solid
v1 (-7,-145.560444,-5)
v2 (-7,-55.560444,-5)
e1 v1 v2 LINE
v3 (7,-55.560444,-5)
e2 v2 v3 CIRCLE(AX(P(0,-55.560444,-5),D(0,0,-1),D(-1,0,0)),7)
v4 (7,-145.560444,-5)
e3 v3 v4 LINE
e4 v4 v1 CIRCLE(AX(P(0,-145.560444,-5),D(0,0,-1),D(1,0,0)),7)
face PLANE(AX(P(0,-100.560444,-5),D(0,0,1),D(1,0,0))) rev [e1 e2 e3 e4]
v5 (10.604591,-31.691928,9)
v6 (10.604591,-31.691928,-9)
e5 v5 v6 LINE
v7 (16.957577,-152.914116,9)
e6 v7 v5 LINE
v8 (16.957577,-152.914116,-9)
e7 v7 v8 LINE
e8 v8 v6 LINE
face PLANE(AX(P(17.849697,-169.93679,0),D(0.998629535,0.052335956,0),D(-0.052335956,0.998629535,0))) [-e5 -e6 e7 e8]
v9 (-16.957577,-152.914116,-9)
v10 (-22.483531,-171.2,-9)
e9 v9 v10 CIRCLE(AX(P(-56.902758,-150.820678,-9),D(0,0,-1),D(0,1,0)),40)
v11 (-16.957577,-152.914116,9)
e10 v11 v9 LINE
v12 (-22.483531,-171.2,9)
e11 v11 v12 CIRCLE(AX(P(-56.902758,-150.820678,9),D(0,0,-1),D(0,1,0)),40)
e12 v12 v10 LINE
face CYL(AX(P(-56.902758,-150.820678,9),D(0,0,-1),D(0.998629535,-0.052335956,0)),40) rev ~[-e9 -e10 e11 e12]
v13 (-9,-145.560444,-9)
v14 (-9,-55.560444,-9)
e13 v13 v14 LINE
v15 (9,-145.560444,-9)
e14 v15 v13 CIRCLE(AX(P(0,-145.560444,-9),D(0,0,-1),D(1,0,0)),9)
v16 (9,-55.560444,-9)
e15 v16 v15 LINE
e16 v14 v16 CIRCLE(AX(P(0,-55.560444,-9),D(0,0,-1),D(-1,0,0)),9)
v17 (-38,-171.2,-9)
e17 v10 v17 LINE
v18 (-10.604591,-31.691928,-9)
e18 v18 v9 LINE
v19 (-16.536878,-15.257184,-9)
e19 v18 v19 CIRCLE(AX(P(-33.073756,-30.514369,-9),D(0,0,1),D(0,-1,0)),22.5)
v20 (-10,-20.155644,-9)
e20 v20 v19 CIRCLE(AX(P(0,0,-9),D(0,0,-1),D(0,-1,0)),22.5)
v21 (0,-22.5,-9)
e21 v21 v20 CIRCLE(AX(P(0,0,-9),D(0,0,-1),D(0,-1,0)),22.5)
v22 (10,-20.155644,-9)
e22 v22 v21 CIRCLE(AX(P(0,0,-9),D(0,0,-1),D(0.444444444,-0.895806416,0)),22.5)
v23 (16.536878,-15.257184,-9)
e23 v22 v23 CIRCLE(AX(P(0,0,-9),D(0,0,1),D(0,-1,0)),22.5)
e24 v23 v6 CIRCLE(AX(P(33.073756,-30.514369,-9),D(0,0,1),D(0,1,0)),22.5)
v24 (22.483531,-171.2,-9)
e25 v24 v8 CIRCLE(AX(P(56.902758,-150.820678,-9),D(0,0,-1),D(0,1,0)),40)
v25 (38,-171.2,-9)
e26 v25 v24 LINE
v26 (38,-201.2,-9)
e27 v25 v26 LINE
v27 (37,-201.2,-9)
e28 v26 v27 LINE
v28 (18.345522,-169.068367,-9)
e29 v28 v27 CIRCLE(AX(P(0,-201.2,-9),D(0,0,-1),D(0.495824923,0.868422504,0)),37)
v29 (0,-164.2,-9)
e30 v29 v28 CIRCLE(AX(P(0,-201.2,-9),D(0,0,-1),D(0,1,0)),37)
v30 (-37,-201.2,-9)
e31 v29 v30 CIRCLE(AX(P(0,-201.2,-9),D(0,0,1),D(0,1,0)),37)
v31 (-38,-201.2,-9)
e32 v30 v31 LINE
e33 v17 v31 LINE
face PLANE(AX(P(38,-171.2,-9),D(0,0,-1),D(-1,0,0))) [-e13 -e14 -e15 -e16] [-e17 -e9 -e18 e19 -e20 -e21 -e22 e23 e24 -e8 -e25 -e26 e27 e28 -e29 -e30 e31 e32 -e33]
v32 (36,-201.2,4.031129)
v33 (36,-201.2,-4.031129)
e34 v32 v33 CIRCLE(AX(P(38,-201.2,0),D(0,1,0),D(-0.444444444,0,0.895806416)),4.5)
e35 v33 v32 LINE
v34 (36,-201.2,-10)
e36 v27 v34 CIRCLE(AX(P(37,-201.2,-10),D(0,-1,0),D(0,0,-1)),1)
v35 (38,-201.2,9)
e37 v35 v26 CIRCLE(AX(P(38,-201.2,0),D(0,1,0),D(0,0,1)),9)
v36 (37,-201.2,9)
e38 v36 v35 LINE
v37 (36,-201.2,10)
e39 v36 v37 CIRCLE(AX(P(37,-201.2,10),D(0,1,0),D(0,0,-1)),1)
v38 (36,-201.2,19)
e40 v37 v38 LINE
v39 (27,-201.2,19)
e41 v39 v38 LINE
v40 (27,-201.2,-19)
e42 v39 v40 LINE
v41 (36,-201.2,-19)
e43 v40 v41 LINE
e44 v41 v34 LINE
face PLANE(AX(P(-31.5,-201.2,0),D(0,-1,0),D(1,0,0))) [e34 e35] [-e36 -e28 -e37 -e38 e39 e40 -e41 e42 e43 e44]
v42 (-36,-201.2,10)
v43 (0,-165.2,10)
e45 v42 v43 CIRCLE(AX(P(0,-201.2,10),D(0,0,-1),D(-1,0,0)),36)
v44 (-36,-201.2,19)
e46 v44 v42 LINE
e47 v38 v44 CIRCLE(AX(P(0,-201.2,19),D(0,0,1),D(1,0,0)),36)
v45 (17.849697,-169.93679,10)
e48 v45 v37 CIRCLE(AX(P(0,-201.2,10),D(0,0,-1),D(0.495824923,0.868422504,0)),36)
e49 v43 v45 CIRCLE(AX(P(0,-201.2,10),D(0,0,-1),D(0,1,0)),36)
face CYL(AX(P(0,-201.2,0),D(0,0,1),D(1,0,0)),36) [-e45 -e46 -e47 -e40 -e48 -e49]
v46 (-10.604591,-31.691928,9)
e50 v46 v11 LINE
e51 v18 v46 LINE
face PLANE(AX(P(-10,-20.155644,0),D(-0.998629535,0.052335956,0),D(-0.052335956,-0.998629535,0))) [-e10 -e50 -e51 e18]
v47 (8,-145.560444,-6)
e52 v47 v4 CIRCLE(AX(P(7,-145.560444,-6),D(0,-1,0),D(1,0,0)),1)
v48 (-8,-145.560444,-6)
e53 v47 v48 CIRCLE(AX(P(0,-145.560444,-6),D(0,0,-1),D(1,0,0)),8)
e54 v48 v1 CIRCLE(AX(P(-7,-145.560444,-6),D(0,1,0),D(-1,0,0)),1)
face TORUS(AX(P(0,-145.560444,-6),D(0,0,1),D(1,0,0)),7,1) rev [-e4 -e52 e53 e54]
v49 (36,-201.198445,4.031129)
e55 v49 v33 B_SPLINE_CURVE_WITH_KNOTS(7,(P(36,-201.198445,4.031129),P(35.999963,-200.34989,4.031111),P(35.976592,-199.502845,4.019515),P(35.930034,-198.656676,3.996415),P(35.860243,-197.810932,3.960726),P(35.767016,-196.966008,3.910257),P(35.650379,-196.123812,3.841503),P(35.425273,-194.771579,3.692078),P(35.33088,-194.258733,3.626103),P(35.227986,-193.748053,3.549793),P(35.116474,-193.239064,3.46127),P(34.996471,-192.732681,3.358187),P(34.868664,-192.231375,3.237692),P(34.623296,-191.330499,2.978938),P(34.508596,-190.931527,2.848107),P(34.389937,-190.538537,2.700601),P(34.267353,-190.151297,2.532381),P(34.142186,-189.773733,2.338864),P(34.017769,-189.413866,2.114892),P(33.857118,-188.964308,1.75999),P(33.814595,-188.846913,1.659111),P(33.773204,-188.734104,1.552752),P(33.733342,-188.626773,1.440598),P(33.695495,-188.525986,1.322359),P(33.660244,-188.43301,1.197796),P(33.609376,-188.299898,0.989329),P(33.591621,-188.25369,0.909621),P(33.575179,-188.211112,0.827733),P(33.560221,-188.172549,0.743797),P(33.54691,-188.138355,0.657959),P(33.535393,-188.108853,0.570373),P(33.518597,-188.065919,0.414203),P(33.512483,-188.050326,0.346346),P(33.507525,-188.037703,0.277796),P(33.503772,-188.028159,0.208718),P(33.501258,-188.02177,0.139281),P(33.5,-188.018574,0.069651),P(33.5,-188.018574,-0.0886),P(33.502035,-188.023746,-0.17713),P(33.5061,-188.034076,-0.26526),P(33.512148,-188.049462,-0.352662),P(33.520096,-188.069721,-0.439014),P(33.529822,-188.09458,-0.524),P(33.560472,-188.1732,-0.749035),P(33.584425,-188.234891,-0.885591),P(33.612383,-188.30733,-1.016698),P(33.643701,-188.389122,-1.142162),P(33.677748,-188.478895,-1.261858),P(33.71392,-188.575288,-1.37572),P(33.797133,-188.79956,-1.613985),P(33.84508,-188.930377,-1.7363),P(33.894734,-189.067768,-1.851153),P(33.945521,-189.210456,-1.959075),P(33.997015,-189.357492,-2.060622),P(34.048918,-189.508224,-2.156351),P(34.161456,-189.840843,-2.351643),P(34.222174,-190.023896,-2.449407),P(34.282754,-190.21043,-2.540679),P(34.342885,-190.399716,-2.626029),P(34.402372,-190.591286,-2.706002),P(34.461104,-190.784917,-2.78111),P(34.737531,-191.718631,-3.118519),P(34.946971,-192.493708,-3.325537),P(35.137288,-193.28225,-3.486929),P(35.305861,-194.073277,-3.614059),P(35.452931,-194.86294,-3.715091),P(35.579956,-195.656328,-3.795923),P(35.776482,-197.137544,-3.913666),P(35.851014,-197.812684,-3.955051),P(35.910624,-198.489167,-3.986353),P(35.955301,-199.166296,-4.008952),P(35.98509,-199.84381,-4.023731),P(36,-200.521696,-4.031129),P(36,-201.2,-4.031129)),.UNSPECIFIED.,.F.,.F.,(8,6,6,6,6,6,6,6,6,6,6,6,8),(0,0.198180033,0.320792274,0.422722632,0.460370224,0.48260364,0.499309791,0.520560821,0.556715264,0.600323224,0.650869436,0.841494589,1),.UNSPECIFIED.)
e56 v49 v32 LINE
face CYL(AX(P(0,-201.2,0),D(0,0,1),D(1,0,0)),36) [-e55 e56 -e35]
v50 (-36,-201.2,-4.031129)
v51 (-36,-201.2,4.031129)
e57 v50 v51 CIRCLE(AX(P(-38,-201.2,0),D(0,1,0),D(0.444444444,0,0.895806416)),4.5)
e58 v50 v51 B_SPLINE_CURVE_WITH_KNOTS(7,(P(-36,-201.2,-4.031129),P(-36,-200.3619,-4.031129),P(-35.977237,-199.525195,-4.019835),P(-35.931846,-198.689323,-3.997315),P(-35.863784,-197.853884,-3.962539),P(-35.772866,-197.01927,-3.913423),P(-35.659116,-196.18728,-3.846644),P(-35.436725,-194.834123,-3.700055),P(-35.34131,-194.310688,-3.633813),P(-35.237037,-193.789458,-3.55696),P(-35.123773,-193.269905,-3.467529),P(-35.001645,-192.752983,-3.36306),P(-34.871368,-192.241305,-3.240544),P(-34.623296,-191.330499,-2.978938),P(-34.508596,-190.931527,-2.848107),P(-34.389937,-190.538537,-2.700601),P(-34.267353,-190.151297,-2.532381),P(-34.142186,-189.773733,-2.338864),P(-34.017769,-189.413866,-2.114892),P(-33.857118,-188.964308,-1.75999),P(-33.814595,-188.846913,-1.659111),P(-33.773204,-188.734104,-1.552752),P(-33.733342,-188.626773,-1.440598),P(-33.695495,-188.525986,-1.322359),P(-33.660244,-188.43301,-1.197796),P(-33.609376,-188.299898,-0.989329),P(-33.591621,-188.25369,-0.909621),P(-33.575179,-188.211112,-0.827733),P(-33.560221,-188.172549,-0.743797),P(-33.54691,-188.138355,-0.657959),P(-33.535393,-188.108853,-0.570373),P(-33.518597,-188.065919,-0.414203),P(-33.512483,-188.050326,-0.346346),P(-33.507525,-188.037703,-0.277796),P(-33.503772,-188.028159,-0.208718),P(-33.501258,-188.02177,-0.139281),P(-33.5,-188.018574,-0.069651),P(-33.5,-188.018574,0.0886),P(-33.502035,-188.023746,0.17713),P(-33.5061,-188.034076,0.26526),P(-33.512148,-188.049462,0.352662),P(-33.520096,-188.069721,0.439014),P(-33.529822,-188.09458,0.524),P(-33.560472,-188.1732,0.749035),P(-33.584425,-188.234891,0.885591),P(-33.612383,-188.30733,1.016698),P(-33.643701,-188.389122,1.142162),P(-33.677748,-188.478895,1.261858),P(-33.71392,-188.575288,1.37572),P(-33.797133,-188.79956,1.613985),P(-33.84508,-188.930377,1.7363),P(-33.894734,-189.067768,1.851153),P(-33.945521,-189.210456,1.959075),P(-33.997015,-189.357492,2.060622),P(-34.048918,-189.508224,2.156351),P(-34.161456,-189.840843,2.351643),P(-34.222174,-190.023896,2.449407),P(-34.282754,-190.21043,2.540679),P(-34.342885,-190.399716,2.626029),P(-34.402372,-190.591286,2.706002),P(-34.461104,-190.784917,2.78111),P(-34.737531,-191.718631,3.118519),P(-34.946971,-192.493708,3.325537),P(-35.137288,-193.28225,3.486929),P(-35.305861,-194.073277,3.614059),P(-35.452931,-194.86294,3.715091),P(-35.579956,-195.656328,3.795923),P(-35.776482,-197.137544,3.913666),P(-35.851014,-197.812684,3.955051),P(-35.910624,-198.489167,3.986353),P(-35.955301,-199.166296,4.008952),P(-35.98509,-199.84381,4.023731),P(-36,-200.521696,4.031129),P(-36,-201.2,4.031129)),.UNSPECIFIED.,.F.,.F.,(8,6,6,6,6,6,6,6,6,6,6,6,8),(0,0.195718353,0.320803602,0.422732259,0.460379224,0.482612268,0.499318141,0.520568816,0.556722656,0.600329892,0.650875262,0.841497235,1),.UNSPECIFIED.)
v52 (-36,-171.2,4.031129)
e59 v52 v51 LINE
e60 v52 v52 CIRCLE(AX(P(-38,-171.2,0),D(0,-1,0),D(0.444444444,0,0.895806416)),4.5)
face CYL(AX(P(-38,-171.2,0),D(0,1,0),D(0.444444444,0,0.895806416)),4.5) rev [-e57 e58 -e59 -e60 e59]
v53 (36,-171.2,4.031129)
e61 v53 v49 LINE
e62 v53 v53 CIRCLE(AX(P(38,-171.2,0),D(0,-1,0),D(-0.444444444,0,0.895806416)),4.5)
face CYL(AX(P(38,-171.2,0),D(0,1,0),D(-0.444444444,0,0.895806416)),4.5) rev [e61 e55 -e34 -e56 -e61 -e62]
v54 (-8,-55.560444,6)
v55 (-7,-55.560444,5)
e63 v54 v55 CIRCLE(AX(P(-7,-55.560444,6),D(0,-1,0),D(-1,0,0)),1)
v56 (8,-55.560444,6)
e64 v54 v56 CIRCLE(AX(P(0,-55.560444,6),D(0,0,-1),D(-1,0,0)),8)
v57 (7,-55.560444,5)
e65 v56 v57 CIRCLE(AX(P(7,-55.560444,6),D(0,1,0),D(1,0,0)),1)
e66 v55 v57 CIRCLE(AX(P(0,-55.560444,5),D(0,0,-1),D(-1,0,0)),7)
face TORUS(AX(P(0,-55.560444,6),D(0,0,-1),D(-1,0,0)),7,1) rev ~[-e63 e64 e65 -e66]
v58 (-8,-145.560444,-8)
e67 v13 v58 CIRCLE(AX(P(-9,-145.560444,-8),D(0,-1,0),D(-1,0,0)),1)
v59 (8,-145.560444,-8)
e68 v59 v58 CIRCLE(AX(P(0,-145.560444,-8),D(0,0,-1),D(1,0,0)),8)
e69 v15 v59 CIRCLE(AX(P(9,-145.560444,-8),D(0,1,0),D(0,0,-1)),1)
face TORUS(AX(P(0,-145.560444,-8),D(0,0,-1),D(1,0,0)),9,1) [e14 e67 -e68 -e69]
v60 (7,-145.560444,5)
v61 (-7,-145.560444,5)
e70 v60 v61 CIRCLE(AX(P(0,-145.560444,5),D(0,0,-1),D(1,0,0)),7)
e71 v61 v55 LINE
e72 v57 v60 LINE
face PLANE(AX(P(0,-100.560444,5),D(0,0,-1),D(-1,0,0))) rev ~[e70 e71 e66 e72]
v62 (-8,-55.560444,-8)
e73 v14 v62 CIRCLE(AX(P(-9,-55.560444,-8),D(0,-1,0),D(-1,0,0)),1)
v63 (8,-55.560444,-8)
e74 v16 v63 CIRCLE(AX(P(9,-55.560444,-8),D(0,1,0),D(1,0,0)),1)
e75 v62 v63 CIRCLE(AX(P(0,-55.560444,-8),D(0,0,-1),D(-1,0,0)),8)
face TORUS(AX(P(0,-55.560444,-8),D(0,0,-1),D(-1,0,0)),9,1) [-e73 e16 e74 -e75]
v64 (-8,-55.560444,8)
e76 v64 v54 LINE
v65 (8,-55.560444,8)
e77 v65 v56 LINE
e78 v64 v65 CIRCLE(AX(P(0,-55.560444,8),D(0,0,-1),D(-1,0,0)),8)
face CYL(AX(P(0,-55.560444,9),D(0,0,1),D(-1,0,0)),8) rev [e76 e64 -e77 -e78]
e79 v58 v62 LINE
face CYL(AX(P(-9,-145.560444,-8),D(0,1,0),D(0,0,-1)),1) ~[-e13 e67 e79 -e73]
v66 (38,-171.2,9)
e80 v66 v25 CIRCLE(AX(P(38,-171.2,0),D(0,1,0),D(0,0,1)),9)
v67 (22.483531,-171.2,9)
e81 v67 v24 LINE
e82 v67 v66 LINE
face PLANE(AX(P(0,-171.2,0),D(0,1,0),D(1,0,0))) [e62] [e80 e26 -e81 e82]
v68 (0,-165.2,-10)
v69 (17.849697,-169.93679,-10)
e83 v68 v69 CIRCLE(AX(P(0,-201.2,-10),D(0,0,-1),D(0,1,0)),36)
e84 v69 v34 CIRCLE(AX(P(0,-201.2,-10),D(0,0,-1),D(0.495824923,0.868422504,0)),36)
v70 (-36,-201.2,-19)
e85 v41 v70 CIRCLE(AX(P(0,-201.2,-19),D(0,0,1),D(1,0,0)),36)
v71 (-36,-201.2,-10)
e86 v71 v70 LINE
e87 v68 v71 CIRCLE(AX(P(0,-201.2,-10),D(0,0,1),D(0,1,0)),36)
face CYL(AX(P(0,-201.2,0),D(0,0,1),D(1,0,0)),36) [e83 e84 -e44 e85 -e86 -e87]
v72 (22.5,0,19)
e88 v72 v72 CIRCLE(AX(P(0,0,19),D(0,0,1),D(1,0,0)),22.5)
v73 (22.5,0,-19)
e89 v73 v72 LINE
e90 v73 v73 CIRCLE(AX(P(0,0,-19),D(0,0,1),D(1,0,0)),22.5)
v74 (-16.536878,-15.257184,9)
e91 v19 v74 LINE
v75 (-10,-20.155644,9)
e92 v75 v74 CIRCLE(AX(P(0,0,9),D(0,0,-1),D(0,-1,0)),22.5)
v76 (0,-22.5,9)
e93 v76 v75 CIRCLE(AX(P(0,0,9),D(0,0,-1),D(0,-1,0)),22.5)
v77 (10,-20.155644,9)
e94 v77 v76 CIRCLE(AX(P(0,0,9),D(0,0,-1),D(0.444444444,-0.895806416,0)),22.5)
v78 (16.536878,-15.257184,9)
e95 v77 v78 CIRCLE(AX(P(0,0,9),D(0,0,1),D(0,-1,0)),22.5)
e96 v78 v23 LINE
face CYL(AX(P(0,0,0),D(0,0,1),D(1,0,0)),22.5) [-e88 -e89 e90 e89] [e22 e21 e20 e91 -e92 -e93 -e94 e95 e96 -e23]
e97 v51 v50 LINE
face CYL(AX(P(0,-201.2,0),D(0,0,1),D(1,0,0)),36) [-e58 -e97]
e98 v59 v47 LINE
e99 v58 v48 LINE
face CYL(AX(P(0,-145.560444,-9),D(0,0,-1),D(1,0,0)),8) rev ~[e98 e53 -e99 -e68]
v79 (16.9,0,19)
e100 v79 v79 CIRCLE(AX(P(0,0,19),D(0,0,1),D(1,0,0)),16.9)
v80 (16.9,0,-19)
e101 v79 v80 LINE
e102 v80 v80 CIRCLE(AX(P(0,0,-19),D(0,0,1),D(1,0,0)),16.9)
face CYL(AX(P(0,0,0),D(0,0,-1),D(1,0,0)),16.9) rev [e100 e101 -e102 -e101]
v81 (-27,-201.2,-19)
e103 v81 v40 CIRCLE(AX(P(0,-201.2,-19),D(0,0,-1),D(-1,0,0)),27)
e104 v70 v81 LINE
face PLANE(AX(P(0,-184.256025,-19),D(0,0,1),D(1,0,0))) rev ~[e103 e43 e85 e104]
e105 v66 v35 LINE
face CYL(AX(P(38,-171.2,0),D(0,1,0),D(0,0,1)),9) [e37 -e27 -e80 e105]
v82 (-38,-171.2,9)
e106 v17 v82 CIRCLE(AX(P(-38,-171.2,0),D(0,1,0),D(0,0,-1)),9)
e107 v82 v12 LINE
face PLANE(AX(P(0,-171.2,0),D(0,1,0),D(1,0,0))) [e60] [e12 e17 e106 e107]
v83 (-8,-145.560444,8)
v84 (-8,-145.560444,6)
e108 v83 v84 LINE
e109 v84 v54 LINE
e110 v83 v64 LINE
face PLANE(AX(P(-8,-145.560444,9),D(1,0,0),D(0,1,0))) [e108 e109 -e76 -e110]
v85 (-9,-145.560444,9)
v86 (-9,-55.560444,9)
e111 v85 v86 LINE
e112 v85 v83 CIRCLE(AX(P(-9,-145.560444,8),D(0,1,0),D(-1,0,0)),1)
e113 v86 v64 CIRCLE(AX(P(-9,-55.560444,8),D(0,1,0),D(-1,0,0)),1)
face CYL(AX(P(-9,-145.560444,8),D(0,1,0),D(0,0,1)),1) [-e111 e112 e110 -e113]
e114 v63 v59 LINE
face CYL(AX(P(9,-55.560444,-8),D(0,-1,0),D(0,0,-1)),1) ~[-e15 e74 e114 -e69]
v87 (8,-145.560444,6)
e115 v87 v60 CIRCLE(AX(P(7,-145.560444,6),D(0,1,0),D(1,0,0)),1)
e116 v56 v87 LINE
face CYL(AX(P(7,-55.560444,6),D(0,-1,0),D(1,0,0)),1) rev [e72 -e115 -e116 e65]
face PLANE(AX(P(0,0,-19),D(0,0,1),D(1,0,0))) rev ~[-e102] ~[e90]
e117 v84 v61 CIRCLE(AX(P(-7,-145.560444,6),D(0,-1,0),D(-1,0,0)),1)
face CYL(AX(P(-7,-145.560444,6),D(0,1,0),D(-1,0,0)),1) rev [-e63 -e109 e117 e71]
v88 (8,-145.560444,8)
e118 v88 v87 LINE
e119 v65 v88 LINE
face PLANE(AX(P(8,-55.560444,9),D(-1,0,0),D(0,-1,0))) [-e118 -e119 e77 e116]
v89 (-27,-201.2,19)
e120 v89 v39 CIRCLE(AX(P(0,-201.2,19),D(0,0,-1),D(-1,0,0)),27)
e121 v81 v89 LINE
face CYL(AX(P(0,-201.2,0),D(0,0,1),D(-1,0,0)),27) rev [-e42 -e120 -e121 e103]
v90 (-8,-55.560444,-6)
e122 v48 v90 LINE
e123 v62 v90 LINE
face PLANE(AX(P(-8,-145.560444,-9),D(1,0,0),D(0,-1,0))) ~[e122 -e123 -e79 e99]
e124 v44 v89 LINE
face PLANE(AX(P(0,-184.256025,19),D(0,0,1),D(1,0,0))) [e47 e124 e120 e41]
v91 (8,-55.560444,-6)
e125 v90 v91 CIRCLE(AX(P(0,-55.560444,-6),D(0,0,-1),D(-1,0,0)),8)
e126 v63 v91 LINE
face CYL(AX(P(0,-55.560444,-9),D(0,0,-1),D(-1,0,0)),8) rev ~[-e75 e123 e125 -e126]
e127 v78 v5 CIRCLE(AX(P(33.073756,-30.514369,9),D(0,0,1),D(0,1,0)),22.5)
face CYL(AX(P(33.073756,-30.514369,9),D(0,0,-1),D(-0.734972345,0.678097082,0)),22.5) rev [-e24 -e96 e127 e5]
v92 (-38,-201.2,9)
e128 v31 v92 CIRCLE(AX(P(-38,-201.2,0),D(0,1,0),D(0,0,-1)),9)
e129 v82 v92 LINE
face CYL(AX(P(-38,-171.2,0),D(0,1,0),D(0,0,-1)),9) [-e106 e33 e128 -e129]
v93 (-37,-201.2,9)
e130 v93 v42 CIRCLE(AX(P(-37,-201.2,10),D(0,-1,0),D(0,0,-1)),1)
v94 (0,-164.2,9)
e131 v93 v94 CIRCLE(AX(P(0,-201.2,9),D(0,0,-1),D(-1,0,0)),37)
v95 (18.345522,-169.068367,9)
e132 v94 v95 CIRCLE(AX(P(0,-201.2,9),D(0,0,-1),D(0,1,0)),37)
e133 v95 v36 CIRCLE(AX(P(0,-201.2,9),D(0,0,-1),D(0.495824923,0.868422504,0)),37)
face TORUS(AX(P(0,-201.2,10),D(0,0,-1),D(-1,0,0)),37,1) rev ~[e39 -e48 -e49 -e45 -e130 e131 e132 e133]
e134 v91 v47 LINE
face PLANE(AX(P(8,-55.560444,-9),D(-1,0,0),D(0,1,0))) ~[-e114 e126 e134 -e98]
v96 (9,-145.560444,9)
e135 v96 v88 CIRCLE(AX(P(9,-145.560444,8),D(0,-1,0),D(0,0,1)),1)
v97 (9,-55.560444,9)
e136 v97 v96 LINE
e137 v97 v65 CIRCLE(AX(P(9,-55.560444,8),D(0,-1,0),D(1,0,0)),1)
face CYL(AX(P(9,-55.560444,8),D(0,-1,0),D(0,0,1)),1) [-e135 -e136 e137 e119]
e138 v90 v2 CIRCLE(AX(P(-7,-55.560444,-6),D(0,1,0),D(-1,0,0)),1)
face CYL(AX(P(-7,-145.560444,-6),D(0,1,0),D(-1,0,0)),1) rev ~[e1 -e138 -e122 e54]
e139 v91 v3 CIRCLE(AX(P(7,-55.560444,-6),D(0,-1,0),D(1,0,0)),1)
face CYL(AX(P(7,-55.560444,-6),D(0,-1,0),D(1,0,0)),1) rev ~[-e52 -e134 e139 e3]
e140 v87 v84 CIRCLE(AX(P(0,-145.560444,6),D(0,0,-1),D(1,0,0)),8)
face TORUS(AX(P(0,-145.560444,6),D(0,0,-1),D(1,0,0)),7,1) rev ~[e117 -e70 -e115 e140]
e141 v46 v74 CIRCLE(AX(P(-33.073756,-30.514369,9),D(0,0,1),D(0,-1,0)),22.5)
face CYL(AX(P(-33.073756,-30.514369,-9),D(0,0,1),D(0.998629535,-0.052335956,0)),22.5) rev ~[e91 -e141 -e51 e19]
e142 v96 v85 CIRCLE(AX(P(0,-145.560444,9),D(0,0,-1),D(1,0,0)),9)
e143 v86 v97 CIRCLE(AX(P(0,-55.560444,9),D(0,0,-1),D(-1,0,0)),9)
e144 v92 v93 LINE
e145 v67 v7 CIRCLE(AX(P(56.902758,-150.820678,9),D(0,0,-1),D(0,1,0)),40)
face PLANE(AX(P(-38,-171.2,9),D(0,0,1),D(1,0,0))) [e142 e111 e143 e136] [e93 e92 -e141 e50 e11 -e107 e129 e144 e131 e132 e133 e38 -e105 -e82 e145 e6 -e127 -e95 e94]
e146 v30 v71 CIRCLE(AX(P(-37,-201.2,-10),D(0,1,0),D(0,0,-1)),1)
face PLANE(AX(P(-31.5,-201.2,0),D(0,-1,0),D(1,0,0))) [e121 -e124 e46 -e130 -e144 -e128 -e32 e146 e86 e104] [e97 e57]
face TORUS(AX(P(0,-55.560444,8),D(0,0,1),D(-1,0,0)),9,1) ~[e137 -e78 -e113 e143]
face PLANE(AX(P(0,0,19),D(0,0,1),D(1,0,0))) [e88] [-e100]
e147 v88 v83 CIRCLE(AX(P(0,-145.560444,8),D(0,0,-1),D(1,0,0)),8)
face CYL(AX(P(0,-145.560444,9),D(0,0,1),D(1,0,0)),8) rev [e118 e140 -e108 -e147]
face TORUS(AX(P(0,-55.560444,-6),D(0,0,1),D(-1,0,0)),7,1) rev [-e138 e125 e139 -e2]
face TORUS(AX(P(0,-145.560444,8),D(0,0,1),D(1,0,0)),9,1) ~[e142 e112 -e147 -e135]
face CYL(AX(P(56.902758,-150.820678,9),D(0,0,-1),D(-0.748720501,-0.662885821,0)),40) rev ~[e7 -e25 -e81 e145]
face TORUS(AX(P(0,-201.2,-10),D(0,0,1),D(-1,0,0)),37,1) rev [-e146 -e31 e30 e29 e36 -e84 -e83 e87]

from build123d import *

# Parameters (mm, degrees)
BOSS_EXTRUDE1_DEPTH   = 19
SKETCH1_R             = 22.5
SKETCH1_R_2           = 16.9
BOSS_EXTRUDE1_2_DEPTH = 19
BOSS_EXTRUDE2_DEPTH   = 9
CUT_EXTRUDE1_DEPTH    = 4
FILLET2_R             = 1
FILLET3_R             = 22.5
FILLET4_R             = 40
BOSS_EXTRUDE3_REACH   = 199.931
SKETCH3_R             = 4.5
CUT_EXTRUDE2_DEPTH    = 209.505251829
FILLET5_R             = 1


with BuildPart() as part:
    # Sketch1 → Boss-Extrude1 (new, symmetric)
    with BuildSketch(Plane.XY):
        with BuildLine():
            ThreePointArc((-27, -201.2), (0, -174.2), (27, -201.2))
            Line((27, -201.2), (36, -201.2))
            ThreePointArc((36, -201.2), (0, -165.2), (-36, -201.2))
            Line((-36, -201.2), (-27, -201.2))
        make_face()
    extrude(amount=BOSS_EXTRUDE1_DEPTH, both=True)



with BuildPart() as body_2:
    # Sketch1 → Boss-Extrude1 2 (new, symmetric)
    with BuildSketch(Plane.XY):
        Circle(SKETCH1_R)
        Circle(SKETCH1_R_2, mode=Mode.SUBTRACT)
    extrude(amount=BOSS_EXTRUDE1_2_DEPTH, both=True)


with BuildPart() as part_1:
    add(part.part)

    add(body_2.part)  # Boss-Extrude2 merges body 2
    # Sketch1<3> → Boss-Extrude2 (add, symmetric)
    with BuildSketch(Plane.XY):
        with BuildLine():
            ThreePointArc((-17.849697213, -169.936789841), (-9.233754228, -166.404342471), (0, -165.2))
            Line((0, -165.2), (0, -22.5))
            ThreePointArc((0, -22.5), (-5.135562367, -21.906072199), (-10, -20.155644371))
            Line((-10, -20.155644371), (-17.849697213, -169.936789841))
        make_face()
        with BuildLine():
            Line((0, -22.5), (0, -165.2))
            ThreePointArc((0, -165.2), (9.233754228, -166.404342471), (17.849697213, -169.936789841))
            Line((17.849697213, -169.936789841), (10, -20.155644371))
            ThreePointArc((10, -20.155644371), (5.135562367, -21.906072199), (0, -22.5))
        make_face()
    extrude(amount=BOSS_EXTRUDE2_DEPTH, both=True)

    # Sketch2 → Cut-Extrude1 (cut)
    with BuildSketch(Plane.XY.offset(9)):
        with BuildLine():
            Line((8, -55.560443659), (8, -145.560443659))
            ThreePointArc((8, -145.560443659), (0, -153.560443659), (-8, -145.560443659))
            Line((-8, -145.560443659), (-8, -55.560443659))
            ThreePointArc((-8, -55.560443659), (0, -47.560443659), (8, -55.560443659))
        make_face()
    cut_extrude1 = extrude(amount=-CUT_EXTRUDE1_DEPTH, mode=Mode.SUBTRACT)

    # Mirror1: Cut-Extrude1 across plane
    add(cut_extrude1.mirror(Plane.XY), mode=Mode.SUBTRACT)

    # Fillet2
    fillet2_edges = [part_1.edges().sort_by_distance(p)[0] for p in [
        (0, -47.560443659, 5),
        (8, -100.560443659, 5),
        (0, -153.560443659, 5),
        (-8, -100.560443659, 5),
        (0, -47.560443659, 9),
        (-8, -100.560443659, 9),
        (0, -153.560443659, 9),
        (8, -100.560443659, 9),
        (0, -47.560443659, -9),
        (-8, -100.560443659, -9),
        (0, -153.560443659, -9),
        (8, -100.560443659, -9),
        (0, -47.560443659, -5),
        (-8, -100.560443659, -5),
        (0, -153.560443659, -5),
        (8, -100.560443659, -5),
    ]]
    fillet(fillet2_edges, radius=FILLET2_R)

    # Fillet3
    fillet3_edges = [part_1.edges().sort_by_distance(p)[0] for p in [
        (10, -20.155644371, 0),
        (-10, -20.155644371, 0),
    ]]
    fillet(fillet3_edges, radius=FILLET3_R)

    # Fillet4
    fillet4_edges = [part_1.edges().sort_by_distance(p)[0] for p in [
        (-17.849697213, -169.936789841, 0),
        (17.849697213, -169.936789841, 0),
    ]]
    fillet(fillet4_edges, radius=FILLET4_R)

    # Boss-Extrude3: up to this face of the body (flat: up to its plane)
    boss_extrude3_end = Plane(part_1.part.faces().sort_by_distance((-31.5, -201.2, 0))[0])
    # Sketch3 → Boss-Extrude3 (add, up to the picked face)
    with BuildSketch(Plane(origin=(0, -171.2, 0), x_dir=(-1, 0, 0), z_dir=(0, -1, 0)), mode=Mode.PRIVATE) as boss_extrude3_sk1:
        with BuildLine():
            Line((38, -9), (-38, -9))
            ThreePointArc((-38, -9), (-47, 0), (-38, 9))
            Line((-38, 9), (38, 9))
            ThreePointArc((38, 9), (47, 0), (38, -9))
        make_face()
        with Locations(Location((-38, 0, 0), (0, 0, 296.387799961))):
            Circle(SKETCH3_R, mode=Mode.SUBTRACT)
        with Locations(Location((38, 0, 0), (0, 0, 243.612200039))):
            Circle(SKETCH3_R, mode=Mode.SUBTRACT)
    boss_extrude3_tool1 = split(extrude(boss_extrude3_sk1.sketch, amount=BOSS_EXTRUDE3_REACH, mode=Mode.PRIVATE), bisect_by=boss_extrude3_end, keep=Keep.BOTH, mode=Mode.PRIVATE)
    add(boss_extrude3_tool1.solids().sort_by(Axis((0, -171.2, 0), (0, -1, 0)))[0])

    # Sketch4 → Cut-Extrude2 (cut, through all)
    with BuildSketch(Plane(origin=(0, 0, -9), x_dir=(-1, 0, 0), z_dir=(0, 0, -1))):
        with BuildLine():
            Line((-27, -201.2), (27, -201.2))
            ThreePointArc((27, -201.2), (0, -174.2), (-27, -201.2))
        make_face()
    extrude(amount=-CUT_EXTRUDE2_DEPTH, mode=Mode.SUBTRACT)

    # Fillet5
    fillet5_edges = [part_1.edges().sort_by_distance(p)[0] for p in [
        (0, -165.2, 9),
        (0, -165.2, -9),
    ]]
    fillet(fillet5_edges, radius=FILLET5_R)


solid = part_1.part
